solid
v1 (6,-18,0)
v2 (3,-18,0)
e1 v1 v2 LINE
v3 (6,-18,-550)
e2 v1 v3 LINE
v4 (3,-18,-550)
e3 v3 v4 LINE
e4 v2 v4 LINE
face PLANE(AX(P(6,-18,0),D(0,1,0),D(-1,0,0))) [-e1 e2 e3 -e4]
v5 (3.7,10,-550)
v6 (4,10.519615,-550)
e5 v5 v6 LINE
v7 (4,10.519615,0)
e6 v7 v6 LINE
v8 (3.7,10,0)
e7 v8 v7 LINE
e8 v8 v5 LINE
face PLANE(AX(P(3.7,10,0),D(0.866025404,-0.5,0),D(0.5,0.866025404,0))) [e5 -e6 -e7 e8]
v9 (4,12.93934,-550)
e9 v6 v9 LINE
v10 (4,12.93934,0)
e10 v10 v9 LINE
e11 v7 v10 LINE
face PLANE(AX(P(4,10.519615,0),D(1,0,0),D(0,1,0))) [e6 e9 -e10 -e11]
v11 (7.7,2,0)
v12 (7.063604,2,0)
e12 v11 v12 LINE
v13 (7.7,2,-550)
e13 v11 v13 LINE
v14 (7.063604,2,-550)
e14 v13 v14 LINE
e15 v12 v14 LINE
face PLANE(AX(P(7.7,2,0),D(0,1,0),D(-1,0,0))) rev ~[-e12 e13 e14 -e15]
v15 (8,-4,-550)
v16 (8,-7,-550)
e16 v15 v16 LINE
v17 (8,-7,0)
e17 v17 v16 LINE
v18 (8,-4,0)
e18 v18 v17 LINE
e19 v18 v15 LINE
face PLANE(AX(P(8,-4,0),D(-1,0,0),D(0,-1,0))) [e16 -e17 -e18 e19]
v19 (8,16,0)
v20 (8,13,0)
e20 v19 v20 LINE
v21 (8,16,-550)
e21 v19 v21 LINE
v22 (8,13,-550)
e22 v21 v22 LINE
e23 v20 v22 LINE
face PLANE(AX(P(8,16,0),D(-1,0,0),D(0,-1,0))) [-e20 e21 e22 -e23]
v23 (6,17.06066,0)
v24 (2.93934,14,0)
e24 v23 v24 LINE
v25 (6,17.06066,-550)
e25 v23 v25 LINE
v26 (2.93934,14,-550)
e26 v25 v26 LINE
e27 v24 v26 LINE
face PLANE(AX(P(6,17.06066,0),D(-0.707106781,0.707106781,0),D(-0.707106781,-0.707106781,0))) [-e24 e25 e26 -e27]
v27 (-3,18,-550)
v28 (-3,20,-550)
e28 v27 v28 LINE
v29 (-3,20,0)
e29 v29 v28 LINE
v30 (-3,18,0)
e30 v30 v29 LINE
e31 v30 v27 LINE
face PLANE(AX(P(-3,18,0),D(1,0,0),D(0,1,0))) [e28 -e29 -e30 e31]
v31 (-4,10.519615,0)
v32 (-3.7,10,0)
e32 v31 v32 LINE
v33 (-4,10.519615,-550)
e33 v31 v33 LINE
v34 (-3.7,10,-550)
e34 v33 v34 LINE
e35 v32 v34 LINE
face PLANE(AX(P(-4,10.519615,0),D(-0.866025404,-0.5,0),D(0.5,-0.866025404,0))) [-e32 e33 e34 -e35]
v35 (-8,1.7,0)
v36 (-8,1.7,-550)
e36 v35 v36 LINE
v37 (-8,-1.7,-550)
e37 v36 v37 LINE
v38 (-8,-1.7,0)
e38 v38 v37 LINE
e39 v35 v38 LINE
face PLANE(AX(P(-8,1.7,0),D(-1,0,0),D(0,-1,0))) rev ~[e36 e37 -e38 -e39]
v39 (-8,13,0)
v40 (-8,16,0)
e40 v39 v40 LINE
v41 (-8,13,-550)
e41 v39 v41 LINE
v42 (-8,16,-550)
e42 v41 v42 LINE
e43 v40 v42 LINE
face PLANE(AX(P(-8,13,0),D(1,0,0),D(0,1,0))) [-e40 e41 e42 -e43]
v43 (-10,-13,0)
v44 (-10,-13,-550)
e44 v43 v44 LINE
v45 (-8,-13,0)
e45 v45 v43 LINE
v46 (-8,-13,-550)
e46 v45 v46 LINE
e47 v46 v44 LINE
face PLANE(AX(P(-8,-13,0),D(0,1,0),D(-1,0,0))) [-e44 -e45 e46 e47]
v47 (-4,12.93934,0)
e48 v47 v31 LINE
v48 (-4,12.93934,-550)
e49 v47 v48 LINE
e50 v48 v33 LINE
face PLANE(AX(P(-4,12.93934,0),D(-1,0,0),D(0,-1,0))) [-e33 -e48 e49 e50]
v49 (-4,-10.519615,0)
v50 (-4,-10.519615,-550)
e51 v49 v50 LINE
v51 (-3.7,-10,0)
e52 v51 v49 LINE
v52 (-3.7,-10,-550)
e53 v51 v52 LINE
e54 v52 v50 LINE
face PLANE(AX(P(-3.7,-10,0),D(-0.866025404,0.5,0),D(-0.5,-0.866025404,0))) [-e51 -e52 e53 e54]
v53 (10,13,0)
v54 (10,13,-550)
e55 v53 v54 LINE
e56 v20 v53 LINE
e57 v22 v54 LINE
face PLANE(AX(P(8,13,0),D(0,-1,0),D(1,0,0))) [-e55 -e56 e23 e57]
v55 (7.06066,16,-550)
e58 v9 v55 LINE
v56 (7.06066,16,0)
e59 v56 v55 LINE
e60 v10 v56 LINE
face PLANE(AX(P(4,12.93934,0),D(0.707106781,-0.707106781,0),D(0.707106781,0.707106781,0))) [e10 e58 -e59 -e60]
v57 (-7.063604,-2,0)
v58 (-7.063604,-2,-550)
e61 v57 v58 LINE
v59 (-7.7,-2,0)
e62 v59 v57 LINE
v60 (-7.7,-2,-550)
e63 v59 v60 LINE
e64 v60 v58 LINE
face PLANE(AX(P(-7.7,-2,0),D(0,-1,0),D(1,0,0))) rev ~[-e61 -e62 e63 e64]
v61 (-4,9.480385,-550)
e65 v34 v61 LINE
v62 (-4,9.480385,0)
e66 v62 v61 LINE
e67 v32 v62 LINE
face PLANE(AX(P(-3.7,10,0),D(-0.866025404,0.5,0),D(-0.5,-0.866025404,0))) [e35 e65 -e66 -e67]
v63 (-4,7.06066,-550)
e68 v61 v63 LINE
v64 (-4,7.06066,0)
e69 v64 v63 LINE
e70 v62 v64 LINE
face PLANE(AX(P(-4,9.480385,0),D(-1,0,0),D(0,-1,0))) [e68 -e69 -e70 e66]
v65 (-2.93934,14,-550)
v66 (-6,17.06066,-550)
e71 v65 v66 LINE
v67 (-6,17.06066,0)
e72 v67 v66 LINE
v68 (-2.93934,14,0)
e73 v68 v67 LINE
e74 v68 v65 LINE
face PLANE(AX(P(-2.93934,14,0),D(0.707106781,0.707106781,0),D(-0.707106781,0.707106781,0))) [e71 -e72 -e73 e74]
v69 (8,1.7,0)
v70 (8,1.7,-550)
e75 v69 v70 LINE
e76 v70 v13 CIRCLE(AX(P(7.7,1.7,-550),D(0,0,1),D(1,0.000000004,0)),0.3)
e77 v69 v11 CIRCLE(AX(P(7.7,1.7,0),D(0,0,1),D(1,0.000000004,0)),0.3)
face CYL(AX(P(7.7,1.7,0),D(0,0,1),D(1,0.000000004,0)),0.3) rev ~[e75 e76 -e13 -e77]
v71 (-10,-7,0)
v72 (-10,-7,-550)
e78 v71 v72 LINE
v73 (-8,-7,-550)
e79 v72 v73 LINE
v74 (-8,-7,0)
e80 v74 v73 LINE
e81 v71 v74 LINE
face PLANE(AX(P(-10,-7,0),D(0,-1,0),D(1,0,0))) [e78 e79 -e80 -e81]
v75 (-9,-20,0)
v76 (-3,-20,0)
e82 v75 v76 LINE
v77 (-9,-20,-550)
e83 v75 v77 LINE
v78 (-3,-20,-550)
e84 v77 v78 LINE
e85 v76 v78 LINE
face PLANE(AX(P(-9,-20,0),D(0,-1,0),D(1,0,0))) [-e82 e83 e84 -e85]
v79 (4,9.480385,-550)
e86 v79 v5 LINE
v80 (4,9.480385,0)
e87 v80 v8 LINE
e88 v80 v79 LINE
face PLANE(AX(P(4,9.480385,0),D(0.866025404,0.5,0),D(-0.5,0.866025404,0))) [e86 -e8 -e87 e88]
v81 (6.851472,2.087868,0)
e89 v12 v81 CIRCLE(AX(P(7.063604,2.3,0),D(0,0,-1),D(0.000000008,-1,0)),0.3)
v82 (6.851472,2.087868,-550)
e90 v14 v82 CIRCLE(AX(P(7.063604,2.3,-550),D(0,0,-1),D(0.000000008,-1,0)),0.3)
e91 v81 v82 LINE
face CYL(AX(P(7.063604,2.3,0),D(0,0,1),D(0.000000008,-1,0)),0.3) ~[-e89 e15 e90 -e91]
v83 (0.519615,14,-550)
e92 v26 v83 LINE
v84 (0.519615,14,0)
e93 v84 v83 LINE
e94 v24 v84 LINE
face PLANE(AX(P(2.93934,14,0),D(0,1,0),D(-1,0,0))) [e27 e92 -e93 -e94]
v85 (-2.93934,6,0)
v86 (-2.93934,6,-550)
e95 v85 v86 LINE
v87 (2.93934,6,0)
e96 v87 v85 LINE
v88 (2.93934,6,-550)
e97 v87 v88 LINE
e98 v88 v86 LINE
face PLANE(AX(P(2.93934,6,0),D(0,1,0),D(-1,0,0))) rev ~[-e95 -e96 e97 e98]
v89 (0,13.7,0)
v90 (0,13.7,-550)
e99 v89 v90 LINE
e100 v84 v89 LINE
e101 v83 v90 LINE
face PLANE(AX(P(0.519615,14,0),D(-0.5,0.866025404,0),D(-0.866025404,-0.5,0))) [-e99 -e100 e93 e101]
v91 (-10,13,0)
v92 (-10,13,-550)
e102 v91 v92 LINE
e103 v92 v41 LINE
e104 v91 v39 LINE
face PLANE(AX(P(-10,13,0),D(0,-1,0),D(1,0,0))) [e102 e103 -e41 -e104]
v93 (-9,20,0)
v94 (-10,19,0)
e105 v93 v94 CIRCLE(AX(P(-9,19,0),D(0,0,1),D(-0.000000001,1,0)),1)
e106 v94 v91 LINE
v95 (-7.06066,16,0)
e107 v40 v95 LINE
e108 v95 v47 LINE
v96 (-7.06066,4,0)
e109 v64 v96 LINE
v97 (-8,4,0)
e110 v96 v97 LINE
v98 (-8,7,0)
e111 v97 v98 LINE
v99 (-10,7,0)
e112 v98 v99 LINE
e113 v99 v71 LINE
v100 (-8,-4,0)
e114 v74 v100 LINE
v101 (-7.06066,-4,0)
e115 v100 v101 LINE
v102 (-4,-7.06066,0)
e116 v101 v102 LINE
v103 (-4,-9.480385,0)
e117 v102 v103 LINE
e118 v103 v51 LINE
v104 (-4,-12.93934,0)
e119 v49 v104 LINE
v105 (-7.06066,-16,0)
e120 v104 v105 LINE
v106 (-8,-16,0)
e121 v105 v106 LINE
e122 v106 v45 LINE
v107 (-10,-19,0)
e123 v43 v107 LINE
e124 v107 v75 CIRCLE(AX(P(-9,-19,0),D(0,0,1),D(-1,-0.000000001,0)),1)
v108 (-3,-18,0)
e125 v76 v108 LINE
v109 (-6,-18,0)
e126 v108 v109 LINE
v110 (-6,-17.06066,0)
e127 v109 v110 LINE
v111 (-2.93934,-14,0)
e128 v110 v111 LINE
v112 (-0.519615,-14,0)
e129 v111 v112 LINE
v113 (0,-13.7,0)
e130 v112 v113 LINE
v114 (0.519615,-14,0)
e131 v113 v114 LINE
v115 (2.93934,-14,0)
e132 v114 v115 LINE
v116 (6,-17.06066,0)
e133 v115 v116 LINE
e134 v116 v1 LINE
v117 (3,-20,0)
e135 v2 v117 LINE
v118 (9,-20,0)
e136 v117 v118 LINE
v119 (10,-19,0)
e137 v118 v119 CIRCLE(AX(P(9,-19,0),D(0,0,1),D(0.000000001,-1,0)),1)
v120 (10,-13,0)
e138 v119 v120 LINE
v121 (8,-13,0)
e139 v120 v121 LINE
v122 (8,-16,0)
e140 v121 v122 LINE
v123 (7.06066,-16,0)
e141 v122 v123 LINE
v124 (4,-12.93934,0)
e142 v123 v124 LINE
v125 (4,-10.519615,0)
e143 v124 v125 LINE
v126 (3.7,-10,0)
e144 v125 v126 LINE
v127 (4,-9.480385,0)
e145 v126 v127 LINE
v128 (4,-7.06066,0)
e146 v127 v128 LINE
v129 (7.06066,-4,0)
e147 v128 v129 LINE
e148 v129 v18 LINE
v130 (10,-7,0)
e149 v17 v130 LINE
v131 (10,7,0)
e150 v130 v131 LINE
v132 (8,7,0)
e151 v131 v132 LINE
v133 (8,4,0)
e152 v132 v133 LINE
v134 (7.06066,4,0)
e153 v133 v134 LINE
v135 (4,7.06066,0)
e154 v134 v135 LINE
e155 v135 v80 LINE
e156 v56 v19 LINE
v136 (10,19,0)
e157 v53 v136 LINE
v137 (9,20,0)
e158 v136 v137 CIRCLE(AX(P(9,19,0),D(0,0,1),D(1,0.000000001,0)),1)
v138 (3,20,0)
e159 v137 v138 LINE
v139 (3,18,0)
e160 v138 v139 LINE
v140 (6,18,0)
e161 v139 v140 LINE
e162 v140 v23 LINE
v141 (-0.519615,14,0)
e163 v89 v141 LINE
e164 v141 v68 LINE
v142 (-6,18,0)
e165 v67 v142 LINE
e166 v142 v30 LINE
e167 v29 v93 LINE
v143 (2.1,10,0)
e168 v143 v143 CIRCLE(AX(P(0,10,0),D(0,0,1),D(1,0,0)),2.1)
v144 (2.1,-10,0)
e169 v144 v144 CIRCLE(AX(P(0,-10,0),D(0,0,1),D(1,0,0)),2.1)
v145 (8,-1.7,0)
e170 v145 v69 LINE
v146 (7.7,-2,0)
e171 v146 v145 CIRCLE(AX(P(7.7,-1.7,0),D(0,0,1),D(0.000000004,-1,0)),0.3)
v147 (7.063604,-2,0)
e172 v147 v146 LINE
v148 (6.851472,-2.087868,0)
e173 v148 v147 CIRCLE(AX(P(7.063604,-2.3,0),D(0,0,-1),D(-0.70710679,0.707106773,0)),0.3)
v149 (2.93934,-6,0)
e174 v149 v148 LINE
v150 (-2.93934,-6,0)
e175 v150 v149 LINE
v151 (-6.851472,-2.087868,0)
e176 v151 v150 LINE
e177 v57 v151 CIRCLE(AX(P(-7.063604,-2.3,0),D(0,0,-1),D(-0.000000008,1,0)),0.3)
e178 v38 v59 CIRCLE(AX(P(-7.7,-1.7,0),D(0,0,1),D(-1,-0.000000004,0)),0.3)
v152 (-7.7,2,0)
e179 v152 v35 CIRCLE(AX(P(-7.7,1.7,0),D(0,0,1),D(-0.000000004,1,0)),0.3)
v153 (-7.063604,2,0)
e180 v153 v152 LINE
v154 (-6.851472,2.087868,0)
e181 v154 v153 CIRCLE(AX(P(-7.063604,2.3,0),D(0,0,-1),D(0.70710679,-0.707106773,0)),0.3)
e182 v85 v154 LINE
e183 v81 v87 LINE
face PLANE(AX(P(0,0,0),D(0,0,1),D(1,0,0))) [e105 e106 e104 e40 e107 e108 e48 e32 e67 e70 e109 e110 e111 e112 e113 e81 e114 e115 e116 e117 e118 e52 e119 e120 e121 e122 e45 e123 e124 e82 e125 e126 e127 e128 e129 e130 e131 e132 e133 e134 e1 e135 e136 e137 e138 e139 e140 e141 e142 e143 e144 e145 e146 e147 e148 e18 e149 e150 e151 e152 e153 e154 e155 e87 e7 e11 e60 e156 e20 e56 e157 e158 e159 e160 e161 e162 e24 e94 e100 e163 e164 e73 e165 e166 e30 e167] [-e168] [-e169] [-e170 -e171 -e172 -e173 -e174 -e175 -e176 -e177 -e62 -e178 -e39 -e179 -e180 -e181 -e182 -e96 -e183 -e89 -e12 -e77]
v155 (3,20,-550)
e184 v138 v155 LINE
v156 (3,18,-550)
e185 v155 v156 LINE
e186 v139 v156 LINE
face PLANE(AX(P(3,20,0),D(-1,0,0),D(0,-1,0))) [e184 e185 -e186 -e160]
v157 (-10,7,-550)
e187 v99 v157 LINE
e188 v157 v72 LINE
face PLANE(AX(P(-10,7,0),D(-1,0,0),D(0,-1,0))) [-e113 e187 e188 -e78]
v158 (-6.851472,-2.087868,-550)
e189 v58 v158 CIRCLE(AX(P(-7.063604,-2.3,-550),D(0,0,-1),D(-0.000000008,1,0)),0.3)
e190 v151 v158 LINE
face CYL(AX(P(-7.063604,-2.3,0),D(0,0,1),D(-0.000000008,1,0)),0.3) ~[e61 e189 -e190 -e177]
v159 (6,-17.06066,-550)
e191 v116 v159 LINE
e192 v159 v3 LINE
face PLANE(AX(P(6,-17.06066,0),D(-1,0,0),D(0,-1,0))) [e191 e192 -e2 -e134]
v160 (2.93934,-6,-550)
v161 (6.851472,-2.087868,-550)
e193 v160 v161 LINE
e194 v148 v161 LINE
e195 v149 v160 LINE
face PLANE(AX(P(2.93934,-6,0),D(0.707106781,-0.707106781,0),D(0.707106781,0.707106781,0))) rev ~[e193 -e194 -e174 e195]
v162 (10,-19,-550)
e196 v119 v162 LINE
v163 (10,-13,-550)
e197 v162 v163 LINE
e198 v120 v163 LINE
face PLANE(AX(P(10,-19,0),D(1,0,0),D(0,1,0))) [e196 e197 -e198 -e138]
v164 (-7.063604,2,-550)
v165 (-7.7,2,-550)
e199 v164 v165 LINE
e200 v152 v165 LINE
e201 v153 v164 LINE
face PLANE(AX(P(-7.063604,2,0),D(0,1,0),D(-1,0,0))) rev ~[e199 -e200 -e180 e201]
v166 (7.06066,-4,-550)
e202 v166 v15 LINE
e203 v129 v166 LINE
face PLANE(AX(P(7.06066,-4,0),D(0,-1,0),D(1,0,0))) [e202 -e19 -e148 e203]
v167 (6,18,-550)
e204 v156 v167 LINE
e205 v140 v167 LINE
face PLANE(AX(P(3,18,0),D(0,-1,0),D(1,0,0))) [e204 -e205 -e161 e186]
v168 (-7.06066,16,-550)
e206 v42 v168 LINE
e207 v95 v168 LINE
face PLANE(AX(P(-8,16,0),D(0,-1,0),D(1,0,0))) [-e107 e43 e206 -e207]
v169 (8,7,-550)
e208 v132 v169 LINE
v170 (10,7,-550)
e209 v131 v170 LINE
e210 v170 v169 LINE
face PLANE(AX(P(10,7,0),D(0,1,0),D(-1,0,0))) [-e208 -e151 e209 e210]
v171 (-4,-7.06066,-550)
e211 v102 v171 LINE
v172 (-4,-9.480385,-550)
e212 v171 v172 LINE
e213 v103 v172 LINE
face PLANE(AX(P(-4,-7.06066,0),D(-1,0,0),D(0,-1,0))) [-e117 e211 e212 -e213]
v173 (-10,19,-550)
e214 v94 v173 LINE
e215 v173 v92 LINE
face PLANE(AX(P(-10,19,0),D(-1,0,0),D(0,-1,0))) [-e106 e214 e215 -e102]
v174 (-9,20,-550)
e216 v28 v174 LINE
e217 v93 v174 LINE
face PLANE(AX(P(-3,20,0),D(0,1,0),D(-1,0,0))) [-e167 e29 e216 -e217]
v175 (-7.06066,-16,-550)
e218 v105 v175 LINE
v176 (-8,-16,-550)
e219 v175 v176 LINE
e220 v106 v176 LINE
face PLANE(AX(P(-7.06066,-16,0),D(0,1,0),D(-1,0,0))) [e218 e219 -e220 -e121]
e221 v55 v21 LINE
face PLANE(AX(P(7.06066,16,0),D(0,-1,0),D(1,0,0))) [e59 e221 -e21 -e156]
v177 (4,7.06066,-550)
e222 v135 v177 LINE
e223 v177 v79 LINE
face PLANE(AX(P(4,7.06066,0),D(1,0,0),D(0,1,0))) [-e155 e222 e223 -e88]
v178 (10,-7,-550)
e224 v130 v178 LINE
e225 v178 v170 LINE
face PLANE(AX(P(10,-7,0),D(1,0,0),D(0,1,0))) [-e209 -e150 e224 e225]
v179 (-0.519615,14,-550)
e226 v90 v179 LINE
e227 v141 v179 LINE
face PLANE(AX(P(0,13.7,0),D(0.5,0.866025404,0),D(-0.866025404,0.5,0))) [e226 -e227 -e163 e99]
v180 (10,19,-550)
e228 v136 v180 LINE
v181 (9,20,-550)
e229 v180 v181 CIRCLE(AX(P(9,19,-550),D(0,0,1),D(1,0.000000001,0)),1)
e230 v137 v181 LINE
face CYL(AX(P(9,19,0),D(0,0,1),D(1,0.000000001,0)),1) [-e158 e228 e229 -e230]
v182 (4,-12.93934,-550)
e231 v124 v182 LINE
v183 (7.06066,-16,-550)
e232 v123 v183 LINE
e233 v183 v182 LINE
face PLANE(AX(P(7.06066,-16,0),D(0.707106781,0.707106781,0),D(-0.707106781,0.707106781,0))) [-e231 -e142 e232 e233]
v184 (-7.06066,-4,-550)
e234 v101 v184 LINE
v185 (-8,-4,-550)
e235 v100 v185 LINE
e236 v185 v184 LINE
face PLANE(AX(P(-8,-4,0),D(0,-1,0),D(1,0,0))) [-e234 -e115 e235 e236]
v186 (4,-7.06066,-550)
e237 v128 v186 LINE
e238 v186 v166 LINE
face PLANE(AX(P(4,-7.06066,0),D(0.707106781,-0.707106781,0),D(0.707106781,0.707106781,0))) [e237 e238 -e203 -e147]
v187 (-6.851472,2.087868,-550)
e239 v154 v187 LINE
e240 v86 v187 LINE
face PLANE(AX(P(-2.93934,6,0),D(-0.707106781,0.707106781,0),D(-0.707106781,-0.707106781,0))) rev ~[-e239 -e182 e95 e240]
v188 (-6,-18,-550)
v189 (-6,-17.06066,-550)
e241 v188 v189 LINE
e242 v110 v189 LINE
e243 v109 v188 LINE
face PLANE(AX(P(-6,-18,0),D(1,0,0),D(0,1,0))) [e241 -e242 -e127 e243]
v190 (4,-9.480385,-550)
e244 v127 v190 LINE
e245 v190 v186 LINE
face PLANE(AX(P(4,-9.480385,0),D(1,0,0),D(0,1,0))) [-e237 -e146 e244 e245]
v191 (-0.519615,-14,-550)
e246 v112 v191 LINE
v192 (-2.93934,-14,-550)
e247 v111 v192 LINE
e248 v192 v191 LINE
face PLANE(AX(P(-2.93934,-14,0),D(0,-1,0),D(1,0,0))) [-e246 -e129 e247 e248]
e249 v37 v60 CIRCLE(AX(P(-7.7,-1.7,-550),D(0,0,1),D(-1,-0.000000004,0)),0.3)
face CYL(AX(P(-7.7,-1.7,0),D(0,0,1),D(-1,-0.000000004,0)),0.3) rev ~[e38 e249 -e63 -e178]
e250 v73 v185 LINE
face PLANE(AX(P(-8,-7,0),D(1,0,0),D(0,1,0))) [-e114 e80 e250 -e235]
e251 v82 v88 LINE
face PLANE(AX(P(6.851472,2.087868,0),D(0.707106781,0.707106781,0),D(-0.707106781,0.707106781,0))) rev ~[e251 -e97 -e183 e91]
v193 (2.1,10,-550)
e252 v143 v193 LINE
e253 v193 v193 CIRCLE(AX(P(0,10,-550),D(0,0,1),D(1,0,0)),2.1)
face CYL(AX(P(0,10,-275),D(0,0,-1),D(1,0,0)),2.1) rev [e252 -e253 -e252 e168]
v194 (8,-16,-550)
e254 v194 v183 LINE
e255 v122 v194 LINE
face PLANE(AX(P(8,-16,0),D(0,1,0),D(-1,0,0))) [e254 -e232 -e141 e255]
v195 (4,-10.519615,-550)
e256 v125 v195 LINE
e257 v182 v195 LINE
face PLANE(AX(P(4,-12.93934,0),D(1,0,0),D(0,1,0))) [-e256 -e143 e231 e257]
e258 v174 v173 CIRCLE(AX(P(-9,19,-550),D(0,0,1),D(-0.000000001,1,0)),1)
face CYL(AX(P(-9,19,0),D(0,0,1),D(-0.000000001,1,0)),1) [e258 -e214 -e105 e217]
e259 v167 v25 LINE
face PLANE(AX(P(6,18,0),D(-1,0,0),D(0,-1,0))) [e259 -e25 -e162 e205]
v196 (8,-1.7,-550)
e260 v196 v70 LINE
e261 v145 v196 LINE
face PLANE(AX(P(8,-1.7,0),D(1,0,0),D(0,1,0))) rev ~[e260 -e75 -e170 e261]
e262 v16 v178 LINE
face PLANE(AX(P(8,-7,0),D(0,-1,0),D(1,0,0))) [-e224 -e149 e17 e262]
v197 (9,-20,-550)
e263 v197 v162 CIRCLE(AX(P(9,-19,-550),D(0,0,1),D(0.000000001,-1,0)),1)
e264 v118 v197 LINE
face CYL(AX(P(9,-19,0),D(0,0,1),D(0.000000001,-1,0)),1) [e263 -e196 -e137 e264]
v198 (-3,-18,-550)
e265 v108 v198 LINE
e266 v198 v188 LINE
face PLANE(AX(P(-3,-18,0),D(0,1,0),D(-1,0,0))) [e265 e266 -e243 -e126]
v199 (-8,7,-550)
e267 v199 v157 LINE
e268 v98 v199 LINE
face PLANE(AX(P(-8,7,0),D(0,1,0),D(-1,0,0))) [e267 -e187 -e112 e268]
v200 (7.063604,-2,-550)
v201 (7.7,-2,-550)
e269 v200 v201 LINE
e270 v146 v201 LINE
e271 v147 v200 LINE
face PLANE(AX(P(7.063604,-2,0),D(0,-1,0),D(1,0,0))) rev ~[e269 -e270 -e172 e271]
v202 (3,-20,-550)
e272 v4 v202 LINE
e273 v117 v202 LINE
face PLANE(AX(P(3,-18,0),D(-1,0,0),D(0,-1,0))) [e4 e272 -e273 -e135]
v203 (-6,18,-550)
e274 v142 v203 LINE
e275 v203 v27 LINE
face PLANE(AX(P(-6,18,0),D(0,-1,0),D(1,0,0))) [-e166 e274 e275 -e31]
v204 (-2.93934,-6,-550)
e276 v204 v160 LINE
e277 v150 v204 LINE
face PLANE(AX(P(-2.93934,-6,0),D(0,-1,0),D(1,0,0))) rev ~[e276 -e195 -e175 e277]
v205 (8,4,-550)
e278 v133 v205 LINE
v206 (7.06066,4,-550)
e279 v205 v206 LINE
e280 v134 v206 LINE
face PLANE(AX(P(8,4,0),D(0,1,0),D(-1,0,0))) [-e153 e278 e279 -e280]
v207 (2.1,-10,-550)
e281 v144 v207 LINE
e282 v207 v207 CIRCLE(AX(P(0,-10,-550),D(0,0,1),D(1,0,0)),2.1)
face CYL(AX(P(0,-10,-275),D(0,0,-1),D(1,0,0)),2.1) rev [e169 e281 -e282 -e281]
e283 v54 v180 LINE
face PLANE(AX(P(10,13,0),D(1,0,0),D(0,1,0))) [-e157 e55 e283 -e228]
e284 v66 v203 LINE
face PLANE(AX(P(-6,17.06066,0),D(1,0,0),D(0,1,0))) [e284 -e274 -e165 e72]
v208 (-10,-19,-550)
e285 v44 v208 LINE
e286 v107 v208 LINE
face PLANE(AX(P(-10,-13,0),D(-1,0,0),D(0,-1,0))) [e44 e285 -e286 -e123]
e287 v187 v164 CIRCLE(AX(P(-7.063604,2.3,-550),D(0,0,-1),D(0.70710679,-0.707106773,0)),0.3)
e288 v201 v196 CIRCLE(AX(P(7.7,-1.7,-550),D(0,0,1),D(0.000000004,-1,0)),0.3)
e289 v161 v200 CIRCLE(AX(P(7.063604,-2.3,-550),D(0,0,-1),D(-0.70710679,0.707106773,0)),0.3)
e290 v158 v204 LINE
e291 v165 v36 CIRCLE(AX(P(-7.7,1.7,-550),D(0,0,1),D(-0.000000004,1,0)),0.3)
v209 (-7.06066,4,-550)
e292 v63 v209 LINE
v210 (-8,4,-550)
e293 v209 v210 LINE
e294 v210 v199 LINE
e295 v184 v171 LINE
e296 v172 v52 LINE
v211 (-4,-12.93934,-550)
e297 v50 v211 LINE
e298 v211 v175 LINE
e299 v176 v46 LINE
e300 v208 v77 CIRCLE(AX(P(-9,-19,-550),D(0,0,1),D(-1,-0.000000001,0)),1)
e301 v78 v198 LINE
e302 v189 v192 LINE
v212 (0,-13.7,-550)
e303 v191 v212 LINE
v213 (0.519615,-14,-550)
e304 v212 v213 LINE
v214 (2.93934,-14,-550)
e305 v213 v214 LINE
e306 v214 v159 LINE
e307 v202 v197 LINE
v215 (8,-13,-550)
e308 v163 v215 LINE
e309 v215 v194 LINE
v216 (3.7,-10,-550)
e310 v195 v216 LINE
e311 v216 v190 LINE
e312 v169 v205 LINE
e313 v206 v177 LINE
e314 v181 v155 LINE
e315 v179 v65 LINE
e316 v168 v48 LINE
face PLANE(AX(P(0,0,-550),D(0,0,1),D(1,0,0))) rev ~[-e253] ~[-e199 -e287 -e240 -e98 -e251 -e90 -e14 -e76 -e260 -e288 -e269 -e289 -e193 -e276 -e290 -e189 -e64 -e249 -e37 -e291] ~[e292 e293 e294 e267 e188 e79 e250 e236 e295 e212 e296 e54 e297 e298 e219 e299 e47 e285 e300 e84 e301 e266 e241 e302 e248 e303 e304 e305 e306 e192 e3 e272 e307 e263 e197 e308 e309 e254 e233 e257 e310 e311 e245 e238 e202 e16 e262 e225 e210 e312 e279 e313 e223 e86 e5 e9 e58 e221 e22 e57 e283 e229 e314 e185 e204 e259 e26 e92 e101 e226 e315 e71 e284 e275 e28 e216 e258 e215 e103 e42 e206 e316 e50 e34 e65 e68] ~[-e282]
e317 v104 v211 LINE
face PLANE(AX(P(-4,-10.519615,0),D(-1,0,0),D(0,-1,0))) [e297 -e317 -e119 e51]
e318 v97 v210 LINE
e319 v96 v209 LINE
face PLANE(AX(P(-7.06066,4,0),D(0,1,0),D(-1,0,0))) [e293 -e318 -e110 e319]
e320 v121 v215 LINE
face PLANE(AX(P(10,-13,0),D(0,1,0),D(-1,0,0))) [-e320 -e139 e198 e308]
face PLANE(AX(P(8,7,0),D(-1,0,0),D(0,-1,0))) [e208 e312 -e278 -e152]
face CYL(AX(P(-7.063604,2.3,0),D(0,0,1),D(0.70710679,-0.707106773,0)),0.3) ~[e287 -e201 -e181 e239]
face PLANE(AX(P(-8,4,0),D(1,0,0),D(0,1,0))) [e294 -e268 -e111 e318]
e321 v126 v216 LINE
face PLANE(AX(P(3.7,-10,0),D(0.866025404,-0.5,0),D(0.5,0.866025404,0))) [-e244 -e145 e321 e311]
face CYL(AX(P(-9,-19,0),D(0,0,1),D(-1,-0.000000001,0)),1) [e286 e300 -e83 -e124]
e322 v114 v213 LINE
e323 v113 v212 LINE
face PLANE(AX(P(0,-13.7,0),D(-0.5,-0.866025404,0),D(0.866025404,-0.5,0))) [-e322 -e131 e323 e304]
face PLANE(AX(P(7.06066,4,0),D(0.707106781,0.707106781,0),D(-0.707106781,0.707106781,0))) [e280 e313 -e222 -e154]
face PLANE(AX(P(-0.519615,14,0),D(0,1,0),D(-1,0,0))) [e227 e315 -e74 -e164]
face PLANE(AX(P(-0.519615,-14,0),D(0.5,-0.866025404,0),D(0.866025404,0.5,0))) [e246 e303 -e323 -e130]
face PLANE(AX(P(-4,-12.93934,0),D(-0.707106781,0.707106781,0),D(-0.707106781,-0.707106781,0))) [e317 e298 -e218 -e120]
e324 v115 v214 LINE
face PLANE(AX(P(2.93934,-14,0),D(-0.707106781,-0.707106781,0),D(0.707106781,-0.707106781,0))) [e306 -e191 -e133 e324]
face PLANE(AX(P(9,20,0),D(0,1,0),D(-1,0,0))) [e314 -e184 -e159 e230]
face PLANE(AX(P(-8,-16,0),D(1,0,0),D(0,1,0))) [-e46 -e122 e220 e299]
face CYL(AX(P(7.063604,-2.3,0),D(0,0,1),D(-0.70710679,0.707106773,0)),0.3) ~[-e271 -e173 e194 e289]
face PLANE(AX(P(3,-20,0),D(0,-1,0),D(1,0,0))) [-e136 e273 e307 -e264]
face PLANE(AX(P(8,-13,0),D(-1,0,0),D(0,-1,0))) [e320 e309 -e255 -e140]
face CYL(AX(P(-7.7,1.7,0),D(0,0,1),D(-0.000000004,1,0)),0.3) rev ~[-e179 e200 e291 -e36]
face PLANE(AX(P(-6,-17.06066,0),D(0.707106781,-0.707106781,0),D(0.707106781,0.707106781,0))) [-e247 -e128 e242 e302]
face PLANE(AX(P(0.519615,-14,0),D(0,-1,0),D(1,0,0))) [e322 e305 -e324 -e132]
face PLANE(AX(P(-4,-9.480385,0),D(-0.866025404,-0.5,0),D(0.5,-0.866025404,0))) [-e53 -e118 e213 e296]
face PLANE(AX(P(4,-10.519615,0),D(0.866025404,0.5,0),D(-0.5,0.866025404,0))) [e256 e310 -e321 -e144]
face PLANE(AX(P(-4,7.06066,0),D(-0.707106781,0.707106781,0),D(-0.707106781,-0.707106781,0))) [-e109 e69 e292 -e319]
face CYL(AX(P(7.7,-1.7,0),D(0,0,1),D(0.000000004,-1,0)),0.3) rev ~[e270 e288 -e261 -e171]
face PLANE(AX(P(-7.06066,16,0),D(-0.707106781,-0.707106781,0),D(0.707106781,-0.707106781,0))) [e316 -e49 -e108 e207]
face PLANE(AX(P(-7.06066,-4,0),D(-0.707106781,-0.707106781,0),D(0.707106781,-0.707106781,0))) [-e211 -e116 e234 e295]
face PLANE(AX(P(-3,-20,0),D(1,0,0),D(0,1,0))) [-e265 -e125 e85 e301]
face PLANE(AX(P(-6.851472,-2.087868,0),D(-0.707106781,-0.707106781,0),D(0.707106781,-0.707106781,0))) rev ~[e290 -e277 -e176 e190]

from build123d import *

# Parameters (mm, degrees)
BOSS_EXTRUDE1_DEPTH = 550
SKETCH2_W           = 550
SKETCH2_H           = 2.1
SKETCH3_W           = 550
SKETCH3_H           = 2.1


with BuildPart() as part:
    # Sketch1 → Boss-Extrude1 (new body)
    with BuildSketch(Plane.XY):
        with BuildLine():
            Line((-10, -7), (-8, -7))
            Line((-8, -7), (-8, -4))
            Line((-8, -4), (-7.060660172, -4))
            Line((-7.060660172, -4), (-4, -7.060660172))
            Line((-4, -7.060660172), (-4, -9.480384758))
            Line((-4, -9.480384758), (-3.7, -10))
            Line((-3.7, -10), (-4, -10.519615242))
            Line((-4, -10.519615242), (-4, -12.939339828))
            Line((-4, -12.939339828), (-7.060660172, -16))
            Line((-7.060660172, -16), (-8, -16))
            Line((-8, -16), (-8, -13))
            Line((-8, -13), (-10, -13))
            Line((-10, -13), (-10, -19))
            ThreePointArc((-10, -19), (-9.707106781, -19.707106781), (-9, -20))
            Line((-9, -20), (-3, -20))
            Line((-3, -20), (-3, -18))
            Line((-3, -18), (-6, -18))
            Line((-6, -18), (-6, -17.060660172))
            Line((-6, -17.060660172), (-2.939339828, -14))
            Line((-2.939339828, -14), (-0.519615242, -14))
            Line((-0.519615242, -14), (0, -13.7))
            Line((0, -13.7), (0.519615242, -14))
            Line((0.519615242, -14), (2.939339828, -14))
            Line((2.939339828, -14), (6, -17.060660172))
            Line((6, -17.060660172), (6, -18))
            Line((6, -18), (3, -18))
            Line((3, -18), (3, -20))
            Line((3, -20), (9, -20))
            ThreePointArc((9, -20), (9.707106781, -19.707106781), (10, -19))
            Line((10, -19), (10, -13))
            Line((10, -13), (8, -13))
            Line((8, -13), (8, -16))
            Line((8, -16), (7.060660172, -16))
            Line((7.060660172, -16), (4, -12.939339828))
            Line((4, -12.939339828), (4, -10.519615242))
            Line((4, -10.519615242), (3.7, -10))
            Line((3.7, -10), (4, -9.480384758))
            Line((4, -9.480384758), (4, -7.060660172))
            Line((4, -7.060660172), (7.060660172, -4))
            Line((7.060660172, -4), (8, -4))
            Line((8, -4), (8, -7))
            Line((8, -7), (10, -7))
            Line((10, -7), (10, 7))
            Line((10, 7), (8, 7))
            Line((8, 7), (8, 4))
            Line((8, 4), (7.060660172, 4))
            Line((7.060660172, 4), (4, 7.060660172))
            Line((4, 7.060660172), (4, 9.480384758))
            Line((4, 9.480384758), (3.7, 10))
            Line((3.7, 10), (4, 10.519615242))
            Line((4, 10.519615242), (4, 12.939339828))
            Line((4, 12.939339828), (7.060660172, 16))
            Line((7.060660172, 16), (8, 16))
            Line((8, 16), (8, 13))
            Line((8, 13), (10, 13))
            Line((10, 13), (10, 19))
            ThreePointArc((10, 19), (9.707106781, 19.707106781), (9, 20))
            Line((9, 20), (3, 20))
            Line((3, 20), (3, 18))
            Line((3, 18), (6, 18))
            Line((6, 18), (6, 17.060660172))
            Line((6, 17.060660172), (2.939339828, 14))
            Line((2.939339828, 14), (0.519615242, 14))
            Line((0.519615242, 14), (0, 13.7))
            Line((0, 13.7), (-0.519615242, 14))
            Line((-0.519615242, 14), (-2.939339828, 14))
            Line((-2.939339828, 14), (-6, 17.060660172))
            Line((-6, 17.060660172), (-6, 18))
            Line((-6, 18), (-3, 18))
            Line((-3, 18), (-3, 20))
            Line((-3, 20), (-9, 20))
            ThreePointArc((-9, 20), (-9.707106781, 19.707106781), (-10, 19))
            Line((-10, 19), (-10, 13))
            Line((-10, 13), (-8, 13))
            Line((-8, 13), (-8, 16))
            Line((-8, 16), (-7.060660172, 16))
            Line((-7.060660172, 16), (-4, 12.939339828))
            Line((-4, 12.939339828), (-4, 10.519615242))
            Line((-4, 10.519615242), (-3.7, 10))
            Line((-3.7, 10), (-4, 9.480384758))
            Line((-4, 9.480384758), (-4, 7.060660172))
            Line((-4, 7.060660172), (-7.060660172, 4))
            Line((-7.060660172, 4), (-8, 4))
            Line((-8, 4), (-8, 7))
            Line((-8, 7), (-10, 7))
            Line((-10, 7), (-10, -7))
        make_face()
        with BuildLine():
            Line((-8, 1.7), (-8, -1.7))
            ThreePointArc((-8, -1.7), (-7.912132034, -1.912132034), (-7.7, -2))
            Line((-7.7, -2), (-7.063603897, -2))
            ThreePointArc((-7.063603897, -2), (-6.948798867, -2.02283614), (-6.851471863, -2.087867966))
            Line((-6.851471863, -2.087867966), (-2.939339828, -6))
            Line((-2.939339828, -6), (2.939339828, -6))
            Line((2.939339828, -6), (6.851471863, -2.087867966))
            ThreePointArc((6.851471863, -2.087867966), (6.948798867, -2.02283614), (7.063603897, -2))
            Line((7.063603897, -2), (7.7, -2))
            ThreePointArc((7.7, -2), (7.912132034, -1.912132034), (8, -1.7))
            Line((8, -1.7), (8, 1.7))
            ThreePointArc((8, 1.7), (7.912132034, 1.912132034), (7.7, 2))
            Line((7.7, 2), (7.063603897, 2))
            ThreePointArc((7.063603897, 2), (6.948798867, 2.02283614), (6.851471863, 2.087867966))
            Line((6.851471863, 2.087867966), (2.939339828, 6))
            Line((2.939339828, 6), (-2.939339828, 6))
            Line((-2.939339828, 6), (-6.851471863, 2.087867966))
            ThreePointArc((-6.851471863, 2.087867966), (-6.948798867, 2.02283614), (-7.063603897, 2))
            Line((-7.063603897, 2), (-7.7, 2))
            ThreePointArc((-7.7, 2), (-7.912132034, 1.912132034), (-8, 1.7))
        make_face(mode=Mode.SUBTRACT)
    extrude(amount=-BOSS_EXTRUDE1_DEPTH)

    # Sketch2 → Cut-Revolve1 (revolve, cut)
    with BuildSketch(Plane(origin=(0, 0, 0), x_dir=(0, 0, -1), z_dir=(1, 0, 0)), mode=Mode.PRIVATE) as cut_revolve1_sk:
        with Locations((275, 11.05)):
            Rectangle(SKETCH2_W, SKETCH2_H)
    revolve(cut_revolve1_sk.sketch.rotate(Axis((0, 10, -550), (0, 0, 1)), 270), axis=Axis((0, 10, -550), (0, 0, 1)), mode=Mode.SUBTRACT)

    # Sketch3 → Cut-Revolve2 (revolve, cut)
    with BuildSketch(Plane(origin=(0, 0, 0), x_dir=(0, 0, -1), z_dir=(1, 0, 0)), mode=Mode.PRIVATE) as cut_revolve2_sk:
        with Locations((275, -8.95)):
            Rectangle(SKETCH3_W, SKETCH3_H)
    revolve(cut_revolve2_sk.sketch.rotate(Axis((0, -10, -550), (0, 0, 1)), 270), axis=Axis((0, -10, -550), (0, 0, 1)), mode=Mode.SUBTRACT)


solid = part.part
